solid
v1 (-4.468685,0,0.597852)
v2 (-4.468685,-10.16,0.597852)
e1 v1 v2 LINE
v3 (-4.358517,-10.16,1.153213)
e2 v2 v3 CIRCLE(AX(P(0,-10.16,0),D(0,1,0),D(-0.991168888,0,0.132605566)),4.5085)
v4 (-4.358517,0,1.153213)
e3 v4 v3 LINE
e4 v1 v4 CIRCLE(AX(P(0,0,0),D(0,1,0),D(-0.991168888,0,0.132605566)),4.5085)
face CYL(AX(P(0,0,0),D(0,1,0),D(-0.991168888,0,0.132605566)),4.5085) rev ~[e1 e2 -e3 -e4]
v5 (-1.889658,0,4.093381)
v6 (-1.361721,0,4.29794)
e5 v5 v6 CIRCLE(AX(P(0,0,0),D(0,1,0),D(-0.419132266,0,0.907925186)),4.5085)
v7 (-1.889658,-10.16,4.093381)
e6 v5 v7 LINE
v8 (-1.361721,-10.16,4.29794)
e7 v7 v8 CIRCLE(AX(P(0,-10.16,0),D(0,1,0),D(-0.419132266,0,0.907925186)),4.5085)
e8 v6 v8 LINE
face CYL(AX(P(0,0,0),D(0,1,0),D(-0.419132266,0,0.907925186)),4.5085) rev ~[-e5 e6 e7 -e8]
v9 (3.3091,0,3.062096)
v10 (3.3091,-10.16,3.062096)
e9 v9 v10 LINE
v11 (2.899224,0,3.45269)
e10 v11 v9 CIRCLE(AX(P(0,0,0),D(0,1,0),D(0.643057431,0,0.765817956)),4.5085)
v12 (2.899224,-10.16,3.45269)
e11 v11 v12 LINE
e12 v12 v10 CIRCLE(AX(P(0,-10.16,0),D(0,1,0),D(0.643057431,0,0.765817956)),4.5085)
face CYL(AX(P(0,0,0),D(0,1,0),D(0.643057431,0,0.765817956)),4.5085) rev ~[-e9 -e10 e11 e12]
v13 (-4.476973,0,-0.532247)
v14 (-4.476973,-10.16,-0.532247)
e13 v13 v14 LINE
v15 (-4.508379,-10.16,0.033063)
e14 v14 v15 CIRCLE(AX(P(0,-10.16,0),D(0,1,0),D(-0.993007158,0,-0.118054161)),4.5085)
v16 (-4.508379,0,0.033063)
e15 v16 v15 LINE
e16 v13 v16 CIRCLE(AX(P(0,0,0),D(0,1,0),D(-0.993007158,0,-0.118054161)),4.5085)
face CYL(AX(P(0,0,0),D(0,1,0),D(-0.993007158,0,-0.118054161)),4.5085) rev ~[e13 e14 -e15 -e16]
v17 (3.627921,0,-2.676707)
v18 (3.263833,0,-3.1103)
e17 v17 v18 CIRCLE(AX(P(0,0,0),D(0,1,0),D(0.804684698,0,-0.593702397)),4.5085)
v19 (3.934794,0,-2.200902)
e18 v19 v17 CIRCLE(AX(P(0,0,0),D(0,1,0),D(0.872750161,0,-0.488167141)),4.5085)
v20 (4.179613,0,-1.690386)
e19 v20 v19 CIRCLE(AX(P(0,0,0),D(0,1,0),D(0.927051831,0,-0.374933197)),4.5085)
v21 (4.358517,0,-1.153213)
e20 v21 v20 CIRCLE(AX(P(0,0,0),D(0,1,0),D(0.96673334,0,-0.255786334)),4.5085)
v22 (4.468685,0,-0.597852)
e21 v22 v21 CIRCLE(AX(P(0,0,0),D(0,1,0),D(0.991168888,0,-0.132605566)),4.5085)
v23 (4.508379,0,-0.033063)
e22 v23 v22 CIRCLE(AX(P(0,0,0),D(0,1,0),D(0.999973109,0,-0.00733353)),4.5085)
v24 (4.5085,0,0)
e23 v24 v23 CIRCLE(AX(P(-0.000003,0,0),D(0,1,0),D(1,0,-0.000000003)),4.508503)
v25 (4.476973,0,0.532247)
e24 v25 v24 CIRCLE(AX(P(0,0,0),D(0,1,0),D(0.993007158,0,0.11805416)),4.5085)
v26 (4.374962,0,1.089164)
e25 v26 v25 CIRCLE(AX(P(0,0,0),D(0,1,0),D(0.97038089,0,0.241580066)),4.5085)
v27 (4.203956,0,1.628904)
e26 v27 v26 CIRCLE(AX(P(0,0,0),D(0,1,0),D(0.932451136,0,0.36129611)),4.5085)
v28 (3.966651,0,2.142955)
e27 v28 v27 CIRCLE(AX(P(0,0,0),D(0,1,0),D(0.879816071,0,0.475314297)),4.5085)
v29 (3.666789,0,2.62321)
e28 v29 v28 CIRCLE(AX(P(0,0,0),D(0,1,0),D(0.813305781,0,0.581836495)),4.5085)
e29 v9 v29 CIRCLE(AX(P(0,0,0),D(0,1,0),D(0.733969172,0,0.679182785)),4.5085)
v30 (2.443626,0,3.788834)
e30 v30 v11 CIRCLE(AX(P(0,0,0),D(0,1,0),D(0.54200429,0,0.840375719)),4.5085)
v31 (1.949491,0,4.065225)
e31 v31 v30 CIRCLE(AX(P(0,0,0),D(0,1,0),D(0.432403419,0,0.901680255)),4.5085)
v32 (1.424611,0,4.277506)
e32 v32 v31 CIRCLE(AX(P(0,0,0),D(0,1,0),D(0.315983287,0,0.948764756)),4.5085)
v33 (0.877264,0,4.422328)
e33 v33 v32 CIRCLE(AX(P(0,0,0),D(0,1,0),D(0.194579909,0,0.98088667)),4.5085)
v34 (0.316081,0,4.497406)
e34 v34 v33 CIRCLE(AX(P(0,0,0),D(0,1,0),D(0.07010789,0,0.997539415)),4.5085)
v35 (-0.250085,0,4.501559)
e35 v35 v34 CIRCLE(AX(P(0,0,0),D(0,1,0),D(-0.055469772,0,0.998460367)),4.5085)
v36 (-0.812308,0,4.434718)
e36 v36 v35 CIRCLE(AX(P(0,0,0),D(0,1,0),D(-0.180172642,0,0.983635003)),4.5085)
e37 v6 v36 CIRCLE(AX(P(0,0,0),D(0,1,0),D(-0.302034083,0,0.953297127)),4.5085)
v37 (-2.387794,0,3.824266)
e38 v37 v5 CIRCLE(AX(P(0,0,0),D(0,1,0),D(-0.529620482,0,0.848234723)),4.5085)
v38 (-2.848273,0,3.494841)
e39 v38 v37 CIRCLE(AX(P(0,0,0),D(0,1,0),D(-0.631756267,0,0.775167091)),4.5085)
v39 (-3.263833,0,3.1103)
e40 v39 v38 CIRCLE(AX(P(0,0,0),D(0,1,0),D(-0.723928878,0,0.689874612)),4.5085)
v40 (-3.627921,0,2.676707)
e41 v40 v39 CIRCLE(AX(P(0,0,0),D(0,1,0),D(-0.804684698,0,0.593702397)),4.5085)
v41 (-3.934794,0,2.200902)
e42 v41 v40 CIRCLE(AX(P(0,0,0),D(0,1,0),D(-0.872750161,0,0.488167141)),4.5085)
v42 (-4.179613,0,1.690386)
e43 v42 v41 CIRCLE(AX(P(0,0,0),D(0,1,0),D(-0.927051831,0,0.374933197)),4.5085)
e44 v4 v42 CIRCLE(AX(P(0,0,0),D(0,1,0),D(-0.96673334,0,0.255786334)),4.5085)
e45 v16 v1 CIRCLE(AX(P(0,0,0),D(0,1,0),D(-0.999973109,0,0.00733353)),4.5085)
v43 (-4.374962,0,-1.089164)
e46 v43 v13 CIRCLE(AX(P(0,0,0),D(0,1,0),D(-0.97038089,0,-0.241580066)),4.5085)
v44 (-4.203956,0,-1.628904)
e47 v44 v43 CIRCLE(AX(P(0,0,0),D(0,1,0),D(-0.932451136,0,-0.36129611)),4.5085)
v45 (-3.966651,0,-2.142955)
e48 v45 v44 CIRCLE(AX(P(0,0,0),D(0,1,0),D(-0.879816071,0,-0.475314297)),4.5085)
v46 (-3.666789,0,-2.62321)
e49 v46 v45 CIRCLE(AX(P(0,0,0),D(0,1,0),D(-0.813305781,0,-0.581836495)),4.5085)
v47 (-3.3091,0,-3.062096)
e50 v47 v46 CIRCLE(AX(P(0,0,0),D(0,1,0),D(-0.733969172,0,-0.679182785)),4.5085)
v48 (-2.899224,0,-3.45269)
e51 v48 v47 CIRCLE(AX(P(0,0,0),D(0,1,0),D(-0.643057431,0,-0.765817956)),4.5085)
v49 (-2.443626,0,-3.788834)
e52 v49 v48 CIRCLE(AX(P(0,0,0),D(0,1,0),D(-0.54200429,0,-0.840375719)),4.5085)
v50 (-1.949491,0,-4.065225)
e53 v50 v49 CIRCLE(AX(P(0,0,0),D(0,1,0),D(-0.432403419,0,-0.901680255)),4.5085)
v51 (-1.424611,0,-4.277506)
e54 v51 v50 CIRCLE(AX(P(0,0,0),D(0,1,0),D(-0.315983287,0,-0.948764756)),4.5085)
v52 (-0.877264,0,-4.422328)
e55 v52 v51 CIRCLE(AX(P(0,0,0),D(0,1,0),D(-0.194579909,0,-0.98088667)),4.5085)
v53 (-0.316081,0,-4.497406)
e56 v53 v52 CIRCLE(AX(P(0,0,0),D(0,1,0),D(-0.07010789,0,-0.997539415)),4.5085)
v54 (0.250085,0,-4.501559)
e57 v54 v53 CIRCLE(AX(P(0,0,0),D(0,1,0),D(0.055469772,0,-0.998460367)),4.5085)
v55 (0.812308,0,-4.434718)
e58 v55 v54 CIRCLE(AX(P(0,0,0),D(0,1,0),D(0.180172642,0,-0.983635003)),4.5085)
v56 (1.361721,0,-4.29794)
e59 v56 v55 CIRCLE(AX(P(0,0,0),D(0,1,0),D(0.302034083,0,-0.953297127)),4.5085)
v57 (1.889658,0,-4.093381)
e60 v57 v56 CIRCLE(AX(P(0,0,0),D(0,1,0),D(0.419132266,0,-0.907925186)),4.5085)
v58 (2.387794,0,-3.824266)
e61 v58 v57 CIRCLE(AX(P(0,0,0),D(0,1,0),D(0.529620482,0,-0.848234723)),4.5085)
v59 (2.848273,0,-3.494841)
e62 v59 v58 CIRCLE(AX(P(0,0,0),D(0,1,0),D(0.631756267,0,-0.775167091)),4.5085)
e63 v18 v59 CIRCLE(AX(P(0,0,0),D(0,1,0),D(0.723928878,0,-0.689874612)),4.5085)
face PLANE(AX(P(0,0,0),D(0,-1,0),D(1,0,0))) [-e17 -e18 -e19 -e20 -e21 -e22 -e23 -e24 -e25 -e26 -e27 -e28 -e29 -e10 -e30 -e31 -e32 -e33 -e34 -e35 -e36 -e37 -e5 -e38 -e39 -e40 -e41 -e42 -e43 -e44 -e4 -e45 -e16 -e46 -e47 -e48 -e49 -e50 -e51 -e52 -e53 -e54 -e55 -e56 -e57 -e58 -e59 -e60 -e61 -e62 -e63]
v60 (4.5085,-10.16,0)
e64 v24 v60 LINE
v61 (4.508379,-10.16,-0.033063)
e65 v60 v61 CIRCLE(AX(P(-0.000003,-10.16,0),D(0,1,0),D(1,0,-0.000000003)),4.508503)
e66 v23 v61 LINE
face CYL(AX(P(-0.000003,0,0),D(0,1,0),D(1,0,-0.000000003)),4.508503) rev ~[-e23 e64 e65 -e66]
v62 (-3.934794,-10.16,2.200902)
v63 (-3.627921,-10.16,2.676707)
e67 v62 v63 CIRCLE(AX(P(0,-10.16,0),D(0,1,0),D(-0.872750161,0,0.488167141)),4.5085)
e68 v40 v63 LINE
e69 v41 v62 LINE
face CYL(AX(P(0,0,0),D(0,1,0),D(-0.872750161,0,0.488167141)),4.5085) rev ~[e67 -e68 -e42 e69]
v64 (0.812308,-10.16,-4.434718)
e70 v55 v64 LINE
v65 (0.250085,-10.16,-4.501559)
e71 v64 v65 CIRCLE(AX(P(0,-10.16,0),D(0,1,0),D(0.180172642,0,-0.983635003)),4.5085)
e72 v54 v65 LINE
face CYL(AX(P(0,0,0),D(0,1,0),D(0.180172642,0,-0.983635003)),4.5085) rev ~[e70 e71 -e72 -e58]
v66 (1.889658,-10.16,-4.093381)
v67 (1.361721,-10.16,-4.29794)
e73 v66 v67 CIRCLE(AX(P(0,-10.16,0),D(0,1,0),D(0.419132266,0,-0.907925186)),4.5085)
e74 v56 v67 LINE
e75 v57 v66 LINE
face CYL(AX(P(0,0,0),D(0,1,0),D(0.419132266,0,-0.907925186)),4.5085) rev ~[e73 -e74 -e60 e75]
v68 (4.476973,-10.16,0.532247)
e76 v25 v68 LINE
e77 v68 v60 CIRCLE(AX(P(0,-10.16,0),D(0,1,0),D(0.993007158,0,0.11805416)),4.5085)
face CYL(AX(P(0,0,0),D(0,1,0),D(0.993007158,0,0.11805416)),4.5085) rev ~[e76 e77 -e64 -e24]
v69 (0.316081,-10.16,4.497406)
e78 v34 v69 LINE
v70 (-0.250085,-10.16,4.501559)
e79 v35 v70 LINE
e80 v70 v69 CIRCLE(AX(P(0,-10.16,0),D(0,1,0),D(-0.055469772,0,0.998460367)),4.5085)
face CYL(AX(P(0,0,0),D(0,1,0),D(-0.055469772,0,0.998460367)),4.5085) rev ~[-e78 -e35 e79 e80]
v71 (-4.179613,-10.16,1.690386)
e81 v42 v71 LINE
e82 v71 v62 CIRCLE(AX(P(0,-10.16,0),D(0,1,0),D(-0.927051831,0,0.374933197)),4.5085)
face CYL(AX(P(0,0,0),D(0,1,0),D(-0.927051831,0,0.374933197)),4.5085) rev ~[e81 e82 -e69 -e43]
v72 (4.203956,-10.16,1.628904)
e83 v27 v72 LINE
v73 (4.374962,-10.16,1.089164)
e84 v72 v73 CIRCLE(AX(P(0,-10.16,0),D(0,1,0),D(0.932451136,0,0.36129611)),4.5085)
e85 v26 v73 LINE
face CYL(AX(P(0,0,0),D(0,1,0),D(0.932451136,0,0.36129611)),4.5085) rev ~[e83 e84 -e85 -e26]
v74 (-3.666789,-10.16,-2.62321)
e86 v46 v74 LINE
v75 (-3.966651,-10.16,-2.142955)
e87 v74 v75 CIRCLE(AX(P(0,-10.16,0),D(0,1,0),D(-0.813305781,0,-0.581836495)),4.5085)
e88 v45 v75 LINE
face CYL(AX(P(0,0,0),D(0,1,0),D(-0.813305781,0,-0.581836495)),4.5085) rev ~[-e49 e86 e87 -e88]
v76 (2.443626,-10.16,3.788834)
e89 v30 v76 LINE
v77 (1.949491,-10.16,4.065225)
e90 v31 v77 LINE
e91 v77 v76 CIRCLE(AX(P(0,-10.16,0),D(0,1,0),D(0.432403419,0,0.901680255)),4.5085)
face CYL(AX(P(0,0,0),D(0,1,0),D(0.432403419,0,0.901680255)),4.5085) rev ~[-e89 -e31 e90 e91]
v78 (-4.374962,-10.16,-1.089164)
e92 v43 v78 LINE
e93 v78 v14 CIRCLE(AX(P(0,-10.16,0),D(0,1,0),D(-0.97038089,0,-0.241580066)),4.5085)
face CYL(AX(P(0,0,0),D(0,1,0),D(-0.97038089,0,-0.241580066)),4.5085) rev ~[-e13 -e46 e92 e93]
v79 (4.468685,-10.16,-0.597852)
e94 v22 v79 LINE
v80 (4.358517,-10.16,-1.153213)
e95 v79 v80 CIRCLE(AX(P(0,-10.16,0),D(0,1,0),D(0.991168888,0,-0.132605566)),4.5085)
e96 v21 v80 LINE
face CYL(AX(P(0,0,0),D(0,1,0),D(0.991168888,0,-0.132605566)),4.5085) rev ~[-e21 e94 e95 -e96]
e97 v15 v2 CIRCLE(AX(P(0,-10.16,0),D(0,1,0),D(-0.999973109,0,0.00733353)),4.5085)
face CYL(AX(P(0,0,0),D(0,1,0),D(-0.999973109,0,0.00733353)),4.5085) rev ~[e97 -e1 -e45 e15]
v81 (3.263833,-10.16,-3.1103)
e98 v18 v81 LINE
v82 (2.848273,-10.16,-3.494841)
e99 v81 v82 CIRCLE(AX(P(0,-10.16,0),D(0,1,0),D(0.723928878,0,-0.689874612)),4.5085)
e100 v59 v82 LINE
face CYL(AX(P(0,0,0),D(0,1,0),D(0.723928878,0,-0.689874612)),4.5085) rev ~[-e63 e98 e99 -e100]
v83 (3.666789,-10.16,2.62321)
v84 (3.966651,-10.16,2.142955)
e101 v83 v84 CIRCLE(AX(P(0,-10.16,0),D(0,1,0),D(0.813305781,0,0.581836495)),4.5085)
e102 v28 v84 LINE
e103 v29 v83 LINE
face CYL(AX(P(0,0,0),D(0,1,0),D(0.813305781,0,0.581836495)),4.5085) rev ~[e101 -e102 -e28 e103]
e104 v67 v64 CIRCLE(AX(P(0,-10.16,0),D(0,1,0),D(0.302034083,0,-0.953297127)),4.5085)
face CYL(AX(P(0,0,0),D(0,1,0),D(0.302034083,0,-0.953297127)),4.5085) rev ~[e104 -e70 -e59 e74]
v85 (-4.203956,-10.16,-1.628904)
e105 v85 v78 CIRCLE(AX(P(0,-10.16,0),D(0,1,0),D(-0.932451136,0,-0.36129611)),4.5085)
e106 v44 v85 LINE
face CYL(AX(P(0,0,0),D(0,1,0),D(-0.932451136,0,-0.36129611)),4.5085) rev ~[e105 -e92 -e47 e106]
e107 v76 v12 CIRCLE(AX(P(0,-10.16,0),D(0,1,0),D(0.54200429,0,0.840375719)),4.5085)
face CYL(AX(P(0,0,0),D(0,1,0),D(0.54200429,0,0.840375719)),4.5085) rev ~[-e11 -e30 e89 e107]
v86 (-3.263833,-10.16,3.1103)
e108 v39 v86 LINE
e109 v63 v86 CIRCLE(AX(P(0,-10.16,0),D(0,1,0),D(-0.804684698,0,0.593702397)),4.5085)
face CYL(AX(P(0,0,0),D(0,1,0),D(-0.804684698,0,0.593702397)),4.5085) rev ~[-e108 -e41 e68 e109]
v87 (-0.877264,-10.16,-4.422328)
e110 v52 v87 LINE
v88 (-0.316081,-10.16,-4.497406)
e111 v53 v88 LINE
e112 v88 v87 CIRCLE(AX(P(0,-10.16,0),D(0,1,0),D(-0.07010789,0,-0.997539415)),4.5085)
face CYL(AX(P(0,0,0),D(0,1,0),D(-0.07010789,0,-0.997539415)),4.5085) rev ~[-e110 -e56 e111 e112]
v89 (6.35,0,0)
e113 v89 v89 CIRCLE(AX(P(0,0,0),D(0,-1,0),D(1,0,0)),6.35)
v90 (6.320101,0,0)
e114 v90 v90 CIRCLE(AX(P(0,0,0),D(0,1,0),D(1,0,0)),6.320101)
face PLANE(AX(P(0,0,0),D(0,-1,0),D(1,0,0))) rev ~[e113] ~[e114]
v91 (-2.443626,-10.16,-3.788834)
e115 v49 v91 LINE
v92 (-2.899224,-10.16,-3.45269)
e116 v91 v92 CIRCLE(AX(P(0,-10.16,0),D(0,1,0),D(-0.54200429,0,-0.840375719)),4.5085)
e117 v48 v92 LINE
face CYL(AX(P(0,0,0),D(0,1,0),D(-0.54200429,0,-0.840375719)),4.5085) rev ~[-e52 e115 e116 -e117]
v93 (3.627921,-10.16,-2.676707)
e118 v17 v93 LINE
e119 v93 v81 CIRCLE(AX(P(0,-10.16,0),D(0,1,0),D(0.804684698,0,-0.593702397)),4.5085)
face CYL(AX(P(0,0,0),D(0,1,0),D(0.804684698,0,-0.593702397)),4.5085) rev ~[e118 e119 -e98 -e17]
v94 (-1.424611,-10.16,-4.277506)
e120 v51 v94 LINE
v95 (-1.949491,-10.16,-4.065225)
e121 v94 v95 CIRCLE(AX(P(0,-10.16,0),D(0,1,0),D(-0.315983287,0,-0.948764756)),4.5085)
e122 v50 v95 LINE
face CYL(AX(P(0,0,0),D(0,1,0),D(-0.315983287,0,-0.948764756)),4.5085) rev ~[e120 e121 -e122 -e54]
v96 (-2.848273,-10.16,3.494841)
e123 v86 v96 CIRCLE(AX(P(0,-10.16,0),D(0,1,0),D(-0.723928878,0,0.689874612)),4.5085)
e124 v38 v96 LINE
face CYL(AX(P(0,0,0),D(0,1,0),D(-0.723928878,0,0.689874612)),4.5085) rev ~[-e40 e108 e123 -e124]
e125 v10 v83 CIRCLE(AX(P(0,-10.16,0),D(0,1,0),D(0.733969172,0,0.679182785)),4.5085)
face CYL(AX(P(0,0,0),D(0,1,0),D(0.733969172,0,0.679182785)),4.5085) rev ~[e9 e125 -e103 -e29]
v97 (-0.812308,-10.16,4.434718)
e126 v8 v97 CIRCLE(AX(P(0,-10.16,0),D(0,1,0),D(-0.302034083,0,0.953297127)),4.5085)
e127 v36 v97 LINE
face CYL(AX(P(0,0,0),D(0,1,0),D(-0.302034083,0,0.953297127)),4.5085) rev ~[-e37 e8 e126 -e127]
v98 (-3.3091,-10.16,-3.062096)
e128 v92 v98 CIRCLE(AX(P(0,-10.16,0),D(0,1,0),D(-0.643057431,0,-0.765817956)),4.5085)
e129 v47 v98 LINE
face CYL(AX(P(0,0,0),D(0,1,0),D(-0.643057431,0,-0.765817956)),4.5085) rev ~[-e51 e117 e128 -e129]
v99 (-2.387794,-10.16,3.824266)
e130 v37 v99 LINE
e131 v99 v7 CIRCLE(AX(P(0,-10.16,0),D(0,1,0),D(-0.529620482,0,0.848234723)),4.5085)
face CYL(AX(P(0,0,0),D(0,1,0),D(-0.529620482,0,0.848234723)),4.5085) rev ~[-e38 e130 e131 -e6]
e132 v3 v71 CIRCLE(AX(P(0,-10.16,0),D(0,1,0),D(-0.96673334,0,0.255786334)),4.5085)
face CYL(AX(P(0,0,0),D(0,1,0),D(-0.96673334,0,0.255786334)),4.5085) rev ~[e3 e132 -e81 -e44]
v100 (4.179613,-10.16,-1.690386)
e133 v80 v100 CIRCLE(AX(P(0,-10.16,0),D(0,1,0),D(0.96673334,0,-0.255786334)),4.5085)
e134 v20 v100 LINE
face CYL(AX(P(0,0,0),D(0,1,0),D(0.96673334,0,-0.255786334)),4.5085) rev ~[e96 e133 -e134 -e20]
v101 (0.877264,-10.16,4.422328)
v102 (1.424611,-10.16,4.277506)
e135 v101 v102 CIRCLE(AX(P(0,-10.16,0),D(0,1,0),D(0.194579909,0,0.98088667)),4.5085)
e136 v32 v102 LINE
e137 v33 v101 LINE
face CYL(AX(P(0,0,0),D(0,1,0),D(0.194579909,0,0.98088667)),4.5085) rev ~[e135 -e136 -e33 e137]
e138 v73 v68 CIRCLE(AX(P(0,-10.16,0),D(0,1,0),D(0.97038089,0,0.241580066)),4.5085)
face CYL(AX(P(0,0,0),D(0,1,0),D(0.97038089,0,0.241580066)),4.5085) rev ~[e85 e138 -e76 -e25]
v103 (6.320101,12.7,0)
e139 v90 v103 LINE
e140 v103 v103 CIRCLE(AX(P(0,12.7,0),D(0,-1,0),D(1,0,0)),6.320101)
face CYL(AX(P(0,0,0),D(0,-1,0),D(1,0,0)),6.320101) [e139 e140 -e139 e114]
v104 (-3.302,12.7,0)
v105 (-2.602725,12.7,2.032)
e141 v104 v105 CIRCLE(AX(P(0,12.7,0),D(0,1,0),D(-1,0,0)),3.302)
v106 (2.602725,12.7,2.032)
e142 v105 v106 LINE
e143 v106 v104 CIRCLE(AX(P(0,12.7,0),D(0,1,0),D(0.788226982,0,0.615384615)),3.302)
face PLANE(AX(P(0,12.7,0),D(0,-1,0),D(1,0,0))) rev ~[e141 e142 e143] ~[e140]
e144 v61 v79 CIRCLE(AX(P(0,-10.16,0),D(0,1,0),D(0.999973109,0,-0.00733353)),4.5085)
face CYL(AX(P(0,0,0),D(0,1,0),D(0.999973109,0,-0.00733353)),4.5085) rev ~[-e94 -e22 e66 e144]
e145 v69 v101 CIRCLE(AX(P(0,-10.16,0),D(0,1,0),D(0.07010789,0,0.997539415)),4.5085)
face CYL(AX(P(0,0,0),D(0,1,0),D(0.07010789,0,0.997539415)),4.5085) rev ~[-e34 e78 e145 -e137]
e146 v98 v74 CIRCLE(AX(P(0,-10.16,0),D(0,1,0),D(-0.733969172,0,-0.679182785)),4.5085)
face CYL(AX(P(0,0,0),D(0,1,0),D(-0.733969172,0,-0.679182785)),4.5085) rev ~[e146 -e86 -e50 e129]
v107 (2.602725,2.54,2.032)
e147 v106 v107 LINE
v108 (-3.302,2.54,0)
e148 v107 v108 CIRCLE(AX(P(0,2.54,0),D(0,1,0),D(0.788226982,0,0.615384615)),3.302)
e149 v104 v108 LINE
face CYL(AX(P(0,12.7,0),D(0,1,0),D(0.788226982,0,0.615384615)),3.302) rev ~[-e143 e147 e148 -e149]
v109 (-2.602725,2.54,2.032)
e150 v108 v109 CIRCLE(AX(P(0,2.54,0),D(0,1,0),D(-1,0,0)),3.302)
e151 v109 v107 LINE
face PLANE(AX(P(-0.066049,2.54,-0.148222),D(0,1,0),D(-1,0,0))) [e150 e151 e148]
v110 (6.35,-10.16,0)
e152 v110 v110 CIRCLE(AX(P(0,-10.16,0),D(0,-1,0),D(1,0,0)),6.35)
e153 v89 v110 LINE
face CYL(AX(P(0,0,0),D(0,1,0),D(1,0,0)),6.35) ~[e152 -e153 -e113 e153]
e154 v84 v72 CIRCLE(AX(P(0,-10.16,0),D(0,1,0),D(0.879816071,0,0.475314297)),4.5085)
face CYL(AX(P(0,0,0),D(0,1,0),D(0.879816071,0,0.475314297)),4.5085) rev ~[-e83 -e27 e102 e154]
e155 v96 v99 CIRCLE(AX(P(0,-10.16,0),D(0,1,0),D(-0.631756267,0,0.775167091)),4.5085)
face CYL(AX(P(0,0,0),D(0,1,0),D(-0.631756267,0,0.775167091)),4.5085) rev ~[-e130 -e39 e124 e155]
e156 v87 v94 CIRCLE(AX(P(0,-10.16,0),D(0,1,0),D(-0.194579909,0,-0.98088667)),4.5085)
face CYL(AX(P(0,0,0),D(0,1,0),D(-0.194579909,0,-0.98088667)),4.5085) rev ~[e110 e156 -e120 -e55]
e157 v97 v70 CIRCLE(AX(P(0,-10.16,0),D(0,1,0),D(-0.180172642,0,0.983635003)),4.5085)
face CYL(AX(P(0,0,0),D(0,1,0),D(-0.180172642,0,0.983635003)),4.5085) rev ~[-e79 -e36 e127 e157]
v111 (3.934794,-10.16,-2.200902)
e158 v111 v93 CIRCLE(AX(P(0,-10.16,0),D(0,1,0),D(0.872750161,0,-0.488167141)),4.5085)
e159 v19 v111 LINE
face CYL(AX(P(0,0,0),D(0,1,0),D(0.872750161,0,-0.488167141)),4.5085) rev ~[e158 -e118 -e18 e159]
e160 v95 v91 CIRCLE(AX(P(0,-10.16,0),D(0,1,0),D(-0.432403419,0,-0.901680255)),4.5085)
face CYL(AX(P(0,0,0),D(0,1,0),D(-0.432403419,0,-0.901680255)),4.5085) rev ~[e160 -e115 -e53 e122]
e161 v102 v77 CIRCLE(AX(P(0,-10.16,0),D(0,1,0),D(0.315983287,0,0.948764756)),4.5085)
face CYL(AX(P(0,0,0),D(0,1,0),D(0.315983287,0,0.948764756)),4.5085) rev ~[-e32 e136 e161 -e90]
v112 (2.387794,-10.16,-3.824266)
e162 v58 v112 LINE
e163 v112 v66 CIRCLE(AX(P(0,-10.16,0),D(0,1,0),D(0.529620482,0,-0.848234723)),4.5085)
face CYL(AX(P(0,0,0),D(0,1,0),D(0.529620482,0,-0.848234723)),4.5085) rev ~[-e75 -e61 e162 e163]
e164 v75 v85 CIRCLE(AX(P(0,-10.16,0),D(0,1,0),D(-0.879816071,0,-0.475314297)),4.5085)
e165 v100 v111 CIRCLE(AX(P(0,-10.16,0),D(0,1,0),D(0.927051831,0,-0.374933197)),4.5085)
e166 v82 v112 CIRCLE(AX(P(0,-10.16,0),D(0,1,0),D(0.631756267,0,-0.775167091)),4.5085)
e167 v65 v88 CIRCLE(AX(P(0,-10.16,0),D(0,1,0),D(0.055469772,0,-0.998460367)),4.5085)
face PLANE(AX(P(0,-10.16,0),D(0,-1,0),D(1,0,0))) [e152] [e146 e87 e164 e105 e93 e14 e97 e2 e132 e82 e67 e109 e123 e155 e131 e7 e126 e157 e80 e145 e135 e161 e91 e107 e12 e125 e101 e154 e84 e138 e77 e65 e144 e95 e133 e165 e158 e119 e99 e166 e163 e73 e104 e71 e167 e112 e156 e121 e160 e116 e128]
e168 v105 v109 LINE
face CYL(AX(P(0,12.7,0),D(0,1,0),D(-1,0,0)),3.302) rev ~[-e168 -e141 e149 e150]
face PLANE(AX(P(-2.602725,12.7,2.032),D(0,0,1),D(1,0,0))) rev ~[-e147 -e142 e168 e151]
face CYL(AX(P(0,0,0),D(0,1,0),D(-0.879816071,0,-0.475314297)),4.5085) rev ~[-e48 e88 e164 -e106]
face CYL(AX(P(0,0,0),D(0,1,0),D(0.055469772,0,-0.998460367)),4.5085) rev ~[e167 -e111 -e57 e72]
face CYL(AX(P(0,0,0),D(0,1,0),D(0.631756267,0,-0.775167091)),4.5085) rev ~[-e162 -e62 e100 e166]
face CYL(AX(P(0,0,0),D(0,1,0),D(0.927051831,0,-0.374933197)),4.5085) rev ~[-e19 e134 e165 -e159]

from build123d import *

# Parameters (mm, degrees)
F0_R     = 6.35
F1_DEPTH = 10.16
F2_R     = 6.3201010277
F3_DEPTH = 12.7
F5_DEPTH = 10.16
F6_R     = 6.3201010277
F6_R_2   = 3.556
F7_DEPTH = 12.7


with BuildPart() as f1:
    # F0 (on Front) → F1 (new body)
    with BuildSketch(Plane.XZ):
        Circle(F0_R)
        with BuildLine():
            ThreePointArc((4.4769727705, 0.5322471811), (4.500611291, 0.2665900542), (4.5085, 0))
            ThreePointArc((4.5085, 0), (4.5084696907, -0.0165317216), (4.5083787633, -0.0330632208))
            ThreePointArc((4.5083787633, -0.0330632208), (4.4974064508, -0.3160814229), (4.4686849298, -0.597852196))
            ThreePointArc((4.4686849298, -0.597852196), (4.4223275509, -0.8772635196), (4.3585172655, -1.1532126849))
            ThreePointArc((4.3585172655, -1.1532126849), (4.2775059036, -1.4246106466), (4.1796131802, -1.6903863208))
            ThreePointArc((4.1796131802, -1.6903863208), (4.0652254331, -1.9494908126), (3.9347940983, -2.2009015547))
            ThreePointArc((3.9347940983, -2.2009015547), (3.788833929, -2.4436263439), (3.627920963, -2.6767072564))
            ThreePointArc((3.627920963, -2.6767072564), (3.4526902504, -2.8992244281), (3.2638333469, -3.1102996856))
            ThreePointArc((3.2638333469, -3.1102996856), (3.0620955841, -3.3091000111), (2.8482731291, -3.4948408307))
            ThreePointArc((2.8482731291, -3.4948408307), (2.6232098413, -3.6667891102), (2.3877939426, -3.8242662482))
            ThreePointArc((2.3877939426, -3.8242662482), (2.1429545122, -3.9666507546), (1.8896578193, -4.0933807025))
            ThreePointArc((1.8896578193, -4.0933807025), (1.6289035103, -4.203955947), (1.3617206633, -4.2979400979))
            ThreePointArc((1.3617206633, -4.2979400979), (1.089163727, -4.3749622428), (0.812308359, -4.4347184104))
            ThreePointArc((0.812308359, -4.4347184104), (0.5322471811, -4.4769727705), (0.2500854667, -4.5015585645))
            ThreePointArc((0.2500854667, -4.5015585645), (-0.0330632208, -4.5083787633), (-0.3160814229, -4.4974064508))
            ThreePointArc((-0.3160814229, -4.4974064508), (-0.597852196, -4.4686849298), (-0.8772635196, -4.4223275509))
            ThreePointArc((-0.8772635196, -4.4223275509), (-1.1532126849, -4.3585172655), (-1.4246106466, -4.2775059036))
            ThreePointArc((-1.4246106466, -4.2775059036), (-1.6903863208, -4.1796131802), (-1.9494908126, -4.0652254331))
            ThreePointArc((-1.9494908126, -4.0652254331), (-2.2009015547, -3.9347940983), (-2.4436263439, -3.788833929))
            ThreePointArc((-2.4436263439, -3.788833929), (-2.6767072564, -3.627920963), (-2.8992244281, -3.4526902504))
            ThreePointArc((-2.8992244281, -3.4526902504), (-3.1102996856, -3.2638333469), (-3.3091000111, -3.0620955841))
            ThreePointArc((-3.3091000111, -3.0620955841), (-3.4948408307, -2.8482731291), (-3.6667891102, -2.6232098413))
            ThreePointArc((-3.6667891102, -2.6232098413), (-3.8242662482, -2.3877939426), (-3.9666507546, -2.1429545122))
            ThreePointArc((-3.9666507546, -2.1429545122), (-4.0933807025, -1.8896578193), (-4.203955947, -1.6289035103))
            ThreePointArc((-4.203955947, -1.6289035103), (-4.2979400979, -1.3617206633), (-4.3749622428, -1.089163727))
            ThreePointArc((-4.3749622428, -1.089163727), (-4.4347184104, -0.812308359), (-4.4769727705, -0.5322471811))
            ThreePointArc((-4.4769727705, -0.5322471811), (-4.5015585645, -0.2500854667), (-4.5083787633, 0.0330632208))
            ThreePointArc((-4.5083787633, 0.0330632208), (-4.4974064508, 0.3160814229), (-4.4686849298, 0.597852196))
            ThreePointArc((-4.4686849298, 0.597852196), (-4.4223275509, 0.8772635196), (-4.3585172655, 1.1532126849))
            ThreePointArc((-4.3585172655, 1.1532126849), (-4.2775059036, 1.4246106466), (-4.1796131802, 1.6903863208))
            ThreePointArc((-4.1796131802, 1.6903863208), (-4.0652254331, 1.9494908126), (-3.9347940983, 2.2009015547))
            ThreePointArc((-3.9347940983, 2.2009015547), (-3.788833929, 2.4436263439), (-3.627920963, 2.6767072564))
            ThreePointArc((-3.627920963, 2.6767072564), (-3.4526902504, 2.8992244281), (-3.2638333469, 3.1102996856))
            ThreePointArc((-3.2638333469, 3.1102996856), (-3.0620955841, 3.3091000111), (-2.8482731291, 3.4948408307))
            ThreePointArc((-2.8482731291, 3.4948408307), (-2.6232098413, 3.6667891102), (-2.3877939426, 3.8242662482))
            ThreePointArc((-2.3877939426, 3.8242662482), (-2.1429545122, 3.9666507546), (-1.8896578193, 4.0933807025))
            ThreePointArc((-1.8896578193, 4.0933807025), (-1.6289035103, 4.203955947), (-1.3617206633, 4.2979400979))
            ThreePointArc((-1.3617206633, 4.2979400979), (-1.089163727, 4.3749622428), (-0.812308359, 4.4347184104))
            ThreePointArc((-0.812308359, 4.4347184104), (-0.5322471811, 4.4769727705), (-0.2500854667, 4.5015585645))
            ThreePointArc((-0.2500854667, 4.5015585645), (0.0330632208, 4.5083787633), (0.3160814229, 4.4974064508))
            ThreePointArc((0.3160814229, 4.4974064508), (0.597852196, 4.4686849298), (0.8772635196, 4.4223275509))
            ThreePointArc((0.8772635196, 4.4223275509), (1.1532126849, 4.3585172655), (1.4246106466, 4.2775059036))
            ThreePointArc((1.4246106466, 4.2775059036), (1.6903863208, 4.1796131802), (1.9494908126, 4.0652254331))
            ThreePointArc((1.9494908126, 4.0652254331), (2.2009015547, 3.9347940983), (2.4436263439, 3.788833929))
            ThreePointArc((2.4436263439, 3.788833929), (2.6767072564, 3.627920963), (2.8992244281, 3.4526902504))
            ThreePointArc((2.8992244281, 3.4526902504), (3.1102996856, 3.2638333469), (3.3091000111, 3.0620955841))
            ThreePointArc((3.3091000111, 3.0620955841), (3.4948408307, 2.8482731291), (3.6667891102, 2.6232098413))
            ThreePointArc((3.6667891102, 2.6232098413), (3.8242662482, 2.3877939426), (3.9666507546, 2.1429545122))
            ThreePointArc((3.9666507546, 2.1429545122), (4.0933807025, 1.8896578193), (4.203955947, 1.6289035103))
            ThreePointArc((4.203955947, 1.6289035103), (4.2979400979, 1.3617206633), (4.3749622428, 1.089163727))
            ThreePointArc((4.3749622428, 1.089163727), (4.4347184104, 0.812308359), (4.4769727705, 0.5322471811))
        make_face(mode=Mode.SUBTRACT)
    extrude(amount=F1_DEPTH)

    # F2 (on Front) → F3 (join)
    with BuildSketch(Plane.XZ):
        Circle(F2_R)
    extrude(amount=-F3_DEPTH)

    # F4 (on face) → F5 (cut)
    with BuildSketch(Plane(origin=(0, 12.7, 0), x_dir=(-1, 0, 0), z_dir=(0, 1, 0))):
        with BuildLine():
            ThreePointArc((-2.6027254946, 2.032), (-1.0744776445, -3.1222911125), (3.302, 0))
            ThreePointArc((3.302, 0), (3.1222911125, 1.0744776445), (2.6027254946, 2.032))
            Line((2.6027254946, 2.032), (-2.6027254946, 2.032))
        make_face()
    extrude(amount=-F5_DEPTH, mode=Mode.SUBTRACT)

    # F6 (on face) → F7 (join)
    with BuildSketch(Plane(origin=(0, 12.7, 0), x_dir=(-1, 0, 0), z_dir=(0, 1, 0))):
        Circle(F6_R)
        Circle(F6_R_2, mode=Mode.SUBTRACT)
        with BuildLine():
            Line((-2.6027254946, 2.032), (2.6027254946, 2.032))
            ThreePointArc((2.6027254946, 2.032), (0, 3.302), (-2.6027254946, 2.032))
        make_face()
    extrude(amount=-F7_DEPTH)


solid = f1.part
